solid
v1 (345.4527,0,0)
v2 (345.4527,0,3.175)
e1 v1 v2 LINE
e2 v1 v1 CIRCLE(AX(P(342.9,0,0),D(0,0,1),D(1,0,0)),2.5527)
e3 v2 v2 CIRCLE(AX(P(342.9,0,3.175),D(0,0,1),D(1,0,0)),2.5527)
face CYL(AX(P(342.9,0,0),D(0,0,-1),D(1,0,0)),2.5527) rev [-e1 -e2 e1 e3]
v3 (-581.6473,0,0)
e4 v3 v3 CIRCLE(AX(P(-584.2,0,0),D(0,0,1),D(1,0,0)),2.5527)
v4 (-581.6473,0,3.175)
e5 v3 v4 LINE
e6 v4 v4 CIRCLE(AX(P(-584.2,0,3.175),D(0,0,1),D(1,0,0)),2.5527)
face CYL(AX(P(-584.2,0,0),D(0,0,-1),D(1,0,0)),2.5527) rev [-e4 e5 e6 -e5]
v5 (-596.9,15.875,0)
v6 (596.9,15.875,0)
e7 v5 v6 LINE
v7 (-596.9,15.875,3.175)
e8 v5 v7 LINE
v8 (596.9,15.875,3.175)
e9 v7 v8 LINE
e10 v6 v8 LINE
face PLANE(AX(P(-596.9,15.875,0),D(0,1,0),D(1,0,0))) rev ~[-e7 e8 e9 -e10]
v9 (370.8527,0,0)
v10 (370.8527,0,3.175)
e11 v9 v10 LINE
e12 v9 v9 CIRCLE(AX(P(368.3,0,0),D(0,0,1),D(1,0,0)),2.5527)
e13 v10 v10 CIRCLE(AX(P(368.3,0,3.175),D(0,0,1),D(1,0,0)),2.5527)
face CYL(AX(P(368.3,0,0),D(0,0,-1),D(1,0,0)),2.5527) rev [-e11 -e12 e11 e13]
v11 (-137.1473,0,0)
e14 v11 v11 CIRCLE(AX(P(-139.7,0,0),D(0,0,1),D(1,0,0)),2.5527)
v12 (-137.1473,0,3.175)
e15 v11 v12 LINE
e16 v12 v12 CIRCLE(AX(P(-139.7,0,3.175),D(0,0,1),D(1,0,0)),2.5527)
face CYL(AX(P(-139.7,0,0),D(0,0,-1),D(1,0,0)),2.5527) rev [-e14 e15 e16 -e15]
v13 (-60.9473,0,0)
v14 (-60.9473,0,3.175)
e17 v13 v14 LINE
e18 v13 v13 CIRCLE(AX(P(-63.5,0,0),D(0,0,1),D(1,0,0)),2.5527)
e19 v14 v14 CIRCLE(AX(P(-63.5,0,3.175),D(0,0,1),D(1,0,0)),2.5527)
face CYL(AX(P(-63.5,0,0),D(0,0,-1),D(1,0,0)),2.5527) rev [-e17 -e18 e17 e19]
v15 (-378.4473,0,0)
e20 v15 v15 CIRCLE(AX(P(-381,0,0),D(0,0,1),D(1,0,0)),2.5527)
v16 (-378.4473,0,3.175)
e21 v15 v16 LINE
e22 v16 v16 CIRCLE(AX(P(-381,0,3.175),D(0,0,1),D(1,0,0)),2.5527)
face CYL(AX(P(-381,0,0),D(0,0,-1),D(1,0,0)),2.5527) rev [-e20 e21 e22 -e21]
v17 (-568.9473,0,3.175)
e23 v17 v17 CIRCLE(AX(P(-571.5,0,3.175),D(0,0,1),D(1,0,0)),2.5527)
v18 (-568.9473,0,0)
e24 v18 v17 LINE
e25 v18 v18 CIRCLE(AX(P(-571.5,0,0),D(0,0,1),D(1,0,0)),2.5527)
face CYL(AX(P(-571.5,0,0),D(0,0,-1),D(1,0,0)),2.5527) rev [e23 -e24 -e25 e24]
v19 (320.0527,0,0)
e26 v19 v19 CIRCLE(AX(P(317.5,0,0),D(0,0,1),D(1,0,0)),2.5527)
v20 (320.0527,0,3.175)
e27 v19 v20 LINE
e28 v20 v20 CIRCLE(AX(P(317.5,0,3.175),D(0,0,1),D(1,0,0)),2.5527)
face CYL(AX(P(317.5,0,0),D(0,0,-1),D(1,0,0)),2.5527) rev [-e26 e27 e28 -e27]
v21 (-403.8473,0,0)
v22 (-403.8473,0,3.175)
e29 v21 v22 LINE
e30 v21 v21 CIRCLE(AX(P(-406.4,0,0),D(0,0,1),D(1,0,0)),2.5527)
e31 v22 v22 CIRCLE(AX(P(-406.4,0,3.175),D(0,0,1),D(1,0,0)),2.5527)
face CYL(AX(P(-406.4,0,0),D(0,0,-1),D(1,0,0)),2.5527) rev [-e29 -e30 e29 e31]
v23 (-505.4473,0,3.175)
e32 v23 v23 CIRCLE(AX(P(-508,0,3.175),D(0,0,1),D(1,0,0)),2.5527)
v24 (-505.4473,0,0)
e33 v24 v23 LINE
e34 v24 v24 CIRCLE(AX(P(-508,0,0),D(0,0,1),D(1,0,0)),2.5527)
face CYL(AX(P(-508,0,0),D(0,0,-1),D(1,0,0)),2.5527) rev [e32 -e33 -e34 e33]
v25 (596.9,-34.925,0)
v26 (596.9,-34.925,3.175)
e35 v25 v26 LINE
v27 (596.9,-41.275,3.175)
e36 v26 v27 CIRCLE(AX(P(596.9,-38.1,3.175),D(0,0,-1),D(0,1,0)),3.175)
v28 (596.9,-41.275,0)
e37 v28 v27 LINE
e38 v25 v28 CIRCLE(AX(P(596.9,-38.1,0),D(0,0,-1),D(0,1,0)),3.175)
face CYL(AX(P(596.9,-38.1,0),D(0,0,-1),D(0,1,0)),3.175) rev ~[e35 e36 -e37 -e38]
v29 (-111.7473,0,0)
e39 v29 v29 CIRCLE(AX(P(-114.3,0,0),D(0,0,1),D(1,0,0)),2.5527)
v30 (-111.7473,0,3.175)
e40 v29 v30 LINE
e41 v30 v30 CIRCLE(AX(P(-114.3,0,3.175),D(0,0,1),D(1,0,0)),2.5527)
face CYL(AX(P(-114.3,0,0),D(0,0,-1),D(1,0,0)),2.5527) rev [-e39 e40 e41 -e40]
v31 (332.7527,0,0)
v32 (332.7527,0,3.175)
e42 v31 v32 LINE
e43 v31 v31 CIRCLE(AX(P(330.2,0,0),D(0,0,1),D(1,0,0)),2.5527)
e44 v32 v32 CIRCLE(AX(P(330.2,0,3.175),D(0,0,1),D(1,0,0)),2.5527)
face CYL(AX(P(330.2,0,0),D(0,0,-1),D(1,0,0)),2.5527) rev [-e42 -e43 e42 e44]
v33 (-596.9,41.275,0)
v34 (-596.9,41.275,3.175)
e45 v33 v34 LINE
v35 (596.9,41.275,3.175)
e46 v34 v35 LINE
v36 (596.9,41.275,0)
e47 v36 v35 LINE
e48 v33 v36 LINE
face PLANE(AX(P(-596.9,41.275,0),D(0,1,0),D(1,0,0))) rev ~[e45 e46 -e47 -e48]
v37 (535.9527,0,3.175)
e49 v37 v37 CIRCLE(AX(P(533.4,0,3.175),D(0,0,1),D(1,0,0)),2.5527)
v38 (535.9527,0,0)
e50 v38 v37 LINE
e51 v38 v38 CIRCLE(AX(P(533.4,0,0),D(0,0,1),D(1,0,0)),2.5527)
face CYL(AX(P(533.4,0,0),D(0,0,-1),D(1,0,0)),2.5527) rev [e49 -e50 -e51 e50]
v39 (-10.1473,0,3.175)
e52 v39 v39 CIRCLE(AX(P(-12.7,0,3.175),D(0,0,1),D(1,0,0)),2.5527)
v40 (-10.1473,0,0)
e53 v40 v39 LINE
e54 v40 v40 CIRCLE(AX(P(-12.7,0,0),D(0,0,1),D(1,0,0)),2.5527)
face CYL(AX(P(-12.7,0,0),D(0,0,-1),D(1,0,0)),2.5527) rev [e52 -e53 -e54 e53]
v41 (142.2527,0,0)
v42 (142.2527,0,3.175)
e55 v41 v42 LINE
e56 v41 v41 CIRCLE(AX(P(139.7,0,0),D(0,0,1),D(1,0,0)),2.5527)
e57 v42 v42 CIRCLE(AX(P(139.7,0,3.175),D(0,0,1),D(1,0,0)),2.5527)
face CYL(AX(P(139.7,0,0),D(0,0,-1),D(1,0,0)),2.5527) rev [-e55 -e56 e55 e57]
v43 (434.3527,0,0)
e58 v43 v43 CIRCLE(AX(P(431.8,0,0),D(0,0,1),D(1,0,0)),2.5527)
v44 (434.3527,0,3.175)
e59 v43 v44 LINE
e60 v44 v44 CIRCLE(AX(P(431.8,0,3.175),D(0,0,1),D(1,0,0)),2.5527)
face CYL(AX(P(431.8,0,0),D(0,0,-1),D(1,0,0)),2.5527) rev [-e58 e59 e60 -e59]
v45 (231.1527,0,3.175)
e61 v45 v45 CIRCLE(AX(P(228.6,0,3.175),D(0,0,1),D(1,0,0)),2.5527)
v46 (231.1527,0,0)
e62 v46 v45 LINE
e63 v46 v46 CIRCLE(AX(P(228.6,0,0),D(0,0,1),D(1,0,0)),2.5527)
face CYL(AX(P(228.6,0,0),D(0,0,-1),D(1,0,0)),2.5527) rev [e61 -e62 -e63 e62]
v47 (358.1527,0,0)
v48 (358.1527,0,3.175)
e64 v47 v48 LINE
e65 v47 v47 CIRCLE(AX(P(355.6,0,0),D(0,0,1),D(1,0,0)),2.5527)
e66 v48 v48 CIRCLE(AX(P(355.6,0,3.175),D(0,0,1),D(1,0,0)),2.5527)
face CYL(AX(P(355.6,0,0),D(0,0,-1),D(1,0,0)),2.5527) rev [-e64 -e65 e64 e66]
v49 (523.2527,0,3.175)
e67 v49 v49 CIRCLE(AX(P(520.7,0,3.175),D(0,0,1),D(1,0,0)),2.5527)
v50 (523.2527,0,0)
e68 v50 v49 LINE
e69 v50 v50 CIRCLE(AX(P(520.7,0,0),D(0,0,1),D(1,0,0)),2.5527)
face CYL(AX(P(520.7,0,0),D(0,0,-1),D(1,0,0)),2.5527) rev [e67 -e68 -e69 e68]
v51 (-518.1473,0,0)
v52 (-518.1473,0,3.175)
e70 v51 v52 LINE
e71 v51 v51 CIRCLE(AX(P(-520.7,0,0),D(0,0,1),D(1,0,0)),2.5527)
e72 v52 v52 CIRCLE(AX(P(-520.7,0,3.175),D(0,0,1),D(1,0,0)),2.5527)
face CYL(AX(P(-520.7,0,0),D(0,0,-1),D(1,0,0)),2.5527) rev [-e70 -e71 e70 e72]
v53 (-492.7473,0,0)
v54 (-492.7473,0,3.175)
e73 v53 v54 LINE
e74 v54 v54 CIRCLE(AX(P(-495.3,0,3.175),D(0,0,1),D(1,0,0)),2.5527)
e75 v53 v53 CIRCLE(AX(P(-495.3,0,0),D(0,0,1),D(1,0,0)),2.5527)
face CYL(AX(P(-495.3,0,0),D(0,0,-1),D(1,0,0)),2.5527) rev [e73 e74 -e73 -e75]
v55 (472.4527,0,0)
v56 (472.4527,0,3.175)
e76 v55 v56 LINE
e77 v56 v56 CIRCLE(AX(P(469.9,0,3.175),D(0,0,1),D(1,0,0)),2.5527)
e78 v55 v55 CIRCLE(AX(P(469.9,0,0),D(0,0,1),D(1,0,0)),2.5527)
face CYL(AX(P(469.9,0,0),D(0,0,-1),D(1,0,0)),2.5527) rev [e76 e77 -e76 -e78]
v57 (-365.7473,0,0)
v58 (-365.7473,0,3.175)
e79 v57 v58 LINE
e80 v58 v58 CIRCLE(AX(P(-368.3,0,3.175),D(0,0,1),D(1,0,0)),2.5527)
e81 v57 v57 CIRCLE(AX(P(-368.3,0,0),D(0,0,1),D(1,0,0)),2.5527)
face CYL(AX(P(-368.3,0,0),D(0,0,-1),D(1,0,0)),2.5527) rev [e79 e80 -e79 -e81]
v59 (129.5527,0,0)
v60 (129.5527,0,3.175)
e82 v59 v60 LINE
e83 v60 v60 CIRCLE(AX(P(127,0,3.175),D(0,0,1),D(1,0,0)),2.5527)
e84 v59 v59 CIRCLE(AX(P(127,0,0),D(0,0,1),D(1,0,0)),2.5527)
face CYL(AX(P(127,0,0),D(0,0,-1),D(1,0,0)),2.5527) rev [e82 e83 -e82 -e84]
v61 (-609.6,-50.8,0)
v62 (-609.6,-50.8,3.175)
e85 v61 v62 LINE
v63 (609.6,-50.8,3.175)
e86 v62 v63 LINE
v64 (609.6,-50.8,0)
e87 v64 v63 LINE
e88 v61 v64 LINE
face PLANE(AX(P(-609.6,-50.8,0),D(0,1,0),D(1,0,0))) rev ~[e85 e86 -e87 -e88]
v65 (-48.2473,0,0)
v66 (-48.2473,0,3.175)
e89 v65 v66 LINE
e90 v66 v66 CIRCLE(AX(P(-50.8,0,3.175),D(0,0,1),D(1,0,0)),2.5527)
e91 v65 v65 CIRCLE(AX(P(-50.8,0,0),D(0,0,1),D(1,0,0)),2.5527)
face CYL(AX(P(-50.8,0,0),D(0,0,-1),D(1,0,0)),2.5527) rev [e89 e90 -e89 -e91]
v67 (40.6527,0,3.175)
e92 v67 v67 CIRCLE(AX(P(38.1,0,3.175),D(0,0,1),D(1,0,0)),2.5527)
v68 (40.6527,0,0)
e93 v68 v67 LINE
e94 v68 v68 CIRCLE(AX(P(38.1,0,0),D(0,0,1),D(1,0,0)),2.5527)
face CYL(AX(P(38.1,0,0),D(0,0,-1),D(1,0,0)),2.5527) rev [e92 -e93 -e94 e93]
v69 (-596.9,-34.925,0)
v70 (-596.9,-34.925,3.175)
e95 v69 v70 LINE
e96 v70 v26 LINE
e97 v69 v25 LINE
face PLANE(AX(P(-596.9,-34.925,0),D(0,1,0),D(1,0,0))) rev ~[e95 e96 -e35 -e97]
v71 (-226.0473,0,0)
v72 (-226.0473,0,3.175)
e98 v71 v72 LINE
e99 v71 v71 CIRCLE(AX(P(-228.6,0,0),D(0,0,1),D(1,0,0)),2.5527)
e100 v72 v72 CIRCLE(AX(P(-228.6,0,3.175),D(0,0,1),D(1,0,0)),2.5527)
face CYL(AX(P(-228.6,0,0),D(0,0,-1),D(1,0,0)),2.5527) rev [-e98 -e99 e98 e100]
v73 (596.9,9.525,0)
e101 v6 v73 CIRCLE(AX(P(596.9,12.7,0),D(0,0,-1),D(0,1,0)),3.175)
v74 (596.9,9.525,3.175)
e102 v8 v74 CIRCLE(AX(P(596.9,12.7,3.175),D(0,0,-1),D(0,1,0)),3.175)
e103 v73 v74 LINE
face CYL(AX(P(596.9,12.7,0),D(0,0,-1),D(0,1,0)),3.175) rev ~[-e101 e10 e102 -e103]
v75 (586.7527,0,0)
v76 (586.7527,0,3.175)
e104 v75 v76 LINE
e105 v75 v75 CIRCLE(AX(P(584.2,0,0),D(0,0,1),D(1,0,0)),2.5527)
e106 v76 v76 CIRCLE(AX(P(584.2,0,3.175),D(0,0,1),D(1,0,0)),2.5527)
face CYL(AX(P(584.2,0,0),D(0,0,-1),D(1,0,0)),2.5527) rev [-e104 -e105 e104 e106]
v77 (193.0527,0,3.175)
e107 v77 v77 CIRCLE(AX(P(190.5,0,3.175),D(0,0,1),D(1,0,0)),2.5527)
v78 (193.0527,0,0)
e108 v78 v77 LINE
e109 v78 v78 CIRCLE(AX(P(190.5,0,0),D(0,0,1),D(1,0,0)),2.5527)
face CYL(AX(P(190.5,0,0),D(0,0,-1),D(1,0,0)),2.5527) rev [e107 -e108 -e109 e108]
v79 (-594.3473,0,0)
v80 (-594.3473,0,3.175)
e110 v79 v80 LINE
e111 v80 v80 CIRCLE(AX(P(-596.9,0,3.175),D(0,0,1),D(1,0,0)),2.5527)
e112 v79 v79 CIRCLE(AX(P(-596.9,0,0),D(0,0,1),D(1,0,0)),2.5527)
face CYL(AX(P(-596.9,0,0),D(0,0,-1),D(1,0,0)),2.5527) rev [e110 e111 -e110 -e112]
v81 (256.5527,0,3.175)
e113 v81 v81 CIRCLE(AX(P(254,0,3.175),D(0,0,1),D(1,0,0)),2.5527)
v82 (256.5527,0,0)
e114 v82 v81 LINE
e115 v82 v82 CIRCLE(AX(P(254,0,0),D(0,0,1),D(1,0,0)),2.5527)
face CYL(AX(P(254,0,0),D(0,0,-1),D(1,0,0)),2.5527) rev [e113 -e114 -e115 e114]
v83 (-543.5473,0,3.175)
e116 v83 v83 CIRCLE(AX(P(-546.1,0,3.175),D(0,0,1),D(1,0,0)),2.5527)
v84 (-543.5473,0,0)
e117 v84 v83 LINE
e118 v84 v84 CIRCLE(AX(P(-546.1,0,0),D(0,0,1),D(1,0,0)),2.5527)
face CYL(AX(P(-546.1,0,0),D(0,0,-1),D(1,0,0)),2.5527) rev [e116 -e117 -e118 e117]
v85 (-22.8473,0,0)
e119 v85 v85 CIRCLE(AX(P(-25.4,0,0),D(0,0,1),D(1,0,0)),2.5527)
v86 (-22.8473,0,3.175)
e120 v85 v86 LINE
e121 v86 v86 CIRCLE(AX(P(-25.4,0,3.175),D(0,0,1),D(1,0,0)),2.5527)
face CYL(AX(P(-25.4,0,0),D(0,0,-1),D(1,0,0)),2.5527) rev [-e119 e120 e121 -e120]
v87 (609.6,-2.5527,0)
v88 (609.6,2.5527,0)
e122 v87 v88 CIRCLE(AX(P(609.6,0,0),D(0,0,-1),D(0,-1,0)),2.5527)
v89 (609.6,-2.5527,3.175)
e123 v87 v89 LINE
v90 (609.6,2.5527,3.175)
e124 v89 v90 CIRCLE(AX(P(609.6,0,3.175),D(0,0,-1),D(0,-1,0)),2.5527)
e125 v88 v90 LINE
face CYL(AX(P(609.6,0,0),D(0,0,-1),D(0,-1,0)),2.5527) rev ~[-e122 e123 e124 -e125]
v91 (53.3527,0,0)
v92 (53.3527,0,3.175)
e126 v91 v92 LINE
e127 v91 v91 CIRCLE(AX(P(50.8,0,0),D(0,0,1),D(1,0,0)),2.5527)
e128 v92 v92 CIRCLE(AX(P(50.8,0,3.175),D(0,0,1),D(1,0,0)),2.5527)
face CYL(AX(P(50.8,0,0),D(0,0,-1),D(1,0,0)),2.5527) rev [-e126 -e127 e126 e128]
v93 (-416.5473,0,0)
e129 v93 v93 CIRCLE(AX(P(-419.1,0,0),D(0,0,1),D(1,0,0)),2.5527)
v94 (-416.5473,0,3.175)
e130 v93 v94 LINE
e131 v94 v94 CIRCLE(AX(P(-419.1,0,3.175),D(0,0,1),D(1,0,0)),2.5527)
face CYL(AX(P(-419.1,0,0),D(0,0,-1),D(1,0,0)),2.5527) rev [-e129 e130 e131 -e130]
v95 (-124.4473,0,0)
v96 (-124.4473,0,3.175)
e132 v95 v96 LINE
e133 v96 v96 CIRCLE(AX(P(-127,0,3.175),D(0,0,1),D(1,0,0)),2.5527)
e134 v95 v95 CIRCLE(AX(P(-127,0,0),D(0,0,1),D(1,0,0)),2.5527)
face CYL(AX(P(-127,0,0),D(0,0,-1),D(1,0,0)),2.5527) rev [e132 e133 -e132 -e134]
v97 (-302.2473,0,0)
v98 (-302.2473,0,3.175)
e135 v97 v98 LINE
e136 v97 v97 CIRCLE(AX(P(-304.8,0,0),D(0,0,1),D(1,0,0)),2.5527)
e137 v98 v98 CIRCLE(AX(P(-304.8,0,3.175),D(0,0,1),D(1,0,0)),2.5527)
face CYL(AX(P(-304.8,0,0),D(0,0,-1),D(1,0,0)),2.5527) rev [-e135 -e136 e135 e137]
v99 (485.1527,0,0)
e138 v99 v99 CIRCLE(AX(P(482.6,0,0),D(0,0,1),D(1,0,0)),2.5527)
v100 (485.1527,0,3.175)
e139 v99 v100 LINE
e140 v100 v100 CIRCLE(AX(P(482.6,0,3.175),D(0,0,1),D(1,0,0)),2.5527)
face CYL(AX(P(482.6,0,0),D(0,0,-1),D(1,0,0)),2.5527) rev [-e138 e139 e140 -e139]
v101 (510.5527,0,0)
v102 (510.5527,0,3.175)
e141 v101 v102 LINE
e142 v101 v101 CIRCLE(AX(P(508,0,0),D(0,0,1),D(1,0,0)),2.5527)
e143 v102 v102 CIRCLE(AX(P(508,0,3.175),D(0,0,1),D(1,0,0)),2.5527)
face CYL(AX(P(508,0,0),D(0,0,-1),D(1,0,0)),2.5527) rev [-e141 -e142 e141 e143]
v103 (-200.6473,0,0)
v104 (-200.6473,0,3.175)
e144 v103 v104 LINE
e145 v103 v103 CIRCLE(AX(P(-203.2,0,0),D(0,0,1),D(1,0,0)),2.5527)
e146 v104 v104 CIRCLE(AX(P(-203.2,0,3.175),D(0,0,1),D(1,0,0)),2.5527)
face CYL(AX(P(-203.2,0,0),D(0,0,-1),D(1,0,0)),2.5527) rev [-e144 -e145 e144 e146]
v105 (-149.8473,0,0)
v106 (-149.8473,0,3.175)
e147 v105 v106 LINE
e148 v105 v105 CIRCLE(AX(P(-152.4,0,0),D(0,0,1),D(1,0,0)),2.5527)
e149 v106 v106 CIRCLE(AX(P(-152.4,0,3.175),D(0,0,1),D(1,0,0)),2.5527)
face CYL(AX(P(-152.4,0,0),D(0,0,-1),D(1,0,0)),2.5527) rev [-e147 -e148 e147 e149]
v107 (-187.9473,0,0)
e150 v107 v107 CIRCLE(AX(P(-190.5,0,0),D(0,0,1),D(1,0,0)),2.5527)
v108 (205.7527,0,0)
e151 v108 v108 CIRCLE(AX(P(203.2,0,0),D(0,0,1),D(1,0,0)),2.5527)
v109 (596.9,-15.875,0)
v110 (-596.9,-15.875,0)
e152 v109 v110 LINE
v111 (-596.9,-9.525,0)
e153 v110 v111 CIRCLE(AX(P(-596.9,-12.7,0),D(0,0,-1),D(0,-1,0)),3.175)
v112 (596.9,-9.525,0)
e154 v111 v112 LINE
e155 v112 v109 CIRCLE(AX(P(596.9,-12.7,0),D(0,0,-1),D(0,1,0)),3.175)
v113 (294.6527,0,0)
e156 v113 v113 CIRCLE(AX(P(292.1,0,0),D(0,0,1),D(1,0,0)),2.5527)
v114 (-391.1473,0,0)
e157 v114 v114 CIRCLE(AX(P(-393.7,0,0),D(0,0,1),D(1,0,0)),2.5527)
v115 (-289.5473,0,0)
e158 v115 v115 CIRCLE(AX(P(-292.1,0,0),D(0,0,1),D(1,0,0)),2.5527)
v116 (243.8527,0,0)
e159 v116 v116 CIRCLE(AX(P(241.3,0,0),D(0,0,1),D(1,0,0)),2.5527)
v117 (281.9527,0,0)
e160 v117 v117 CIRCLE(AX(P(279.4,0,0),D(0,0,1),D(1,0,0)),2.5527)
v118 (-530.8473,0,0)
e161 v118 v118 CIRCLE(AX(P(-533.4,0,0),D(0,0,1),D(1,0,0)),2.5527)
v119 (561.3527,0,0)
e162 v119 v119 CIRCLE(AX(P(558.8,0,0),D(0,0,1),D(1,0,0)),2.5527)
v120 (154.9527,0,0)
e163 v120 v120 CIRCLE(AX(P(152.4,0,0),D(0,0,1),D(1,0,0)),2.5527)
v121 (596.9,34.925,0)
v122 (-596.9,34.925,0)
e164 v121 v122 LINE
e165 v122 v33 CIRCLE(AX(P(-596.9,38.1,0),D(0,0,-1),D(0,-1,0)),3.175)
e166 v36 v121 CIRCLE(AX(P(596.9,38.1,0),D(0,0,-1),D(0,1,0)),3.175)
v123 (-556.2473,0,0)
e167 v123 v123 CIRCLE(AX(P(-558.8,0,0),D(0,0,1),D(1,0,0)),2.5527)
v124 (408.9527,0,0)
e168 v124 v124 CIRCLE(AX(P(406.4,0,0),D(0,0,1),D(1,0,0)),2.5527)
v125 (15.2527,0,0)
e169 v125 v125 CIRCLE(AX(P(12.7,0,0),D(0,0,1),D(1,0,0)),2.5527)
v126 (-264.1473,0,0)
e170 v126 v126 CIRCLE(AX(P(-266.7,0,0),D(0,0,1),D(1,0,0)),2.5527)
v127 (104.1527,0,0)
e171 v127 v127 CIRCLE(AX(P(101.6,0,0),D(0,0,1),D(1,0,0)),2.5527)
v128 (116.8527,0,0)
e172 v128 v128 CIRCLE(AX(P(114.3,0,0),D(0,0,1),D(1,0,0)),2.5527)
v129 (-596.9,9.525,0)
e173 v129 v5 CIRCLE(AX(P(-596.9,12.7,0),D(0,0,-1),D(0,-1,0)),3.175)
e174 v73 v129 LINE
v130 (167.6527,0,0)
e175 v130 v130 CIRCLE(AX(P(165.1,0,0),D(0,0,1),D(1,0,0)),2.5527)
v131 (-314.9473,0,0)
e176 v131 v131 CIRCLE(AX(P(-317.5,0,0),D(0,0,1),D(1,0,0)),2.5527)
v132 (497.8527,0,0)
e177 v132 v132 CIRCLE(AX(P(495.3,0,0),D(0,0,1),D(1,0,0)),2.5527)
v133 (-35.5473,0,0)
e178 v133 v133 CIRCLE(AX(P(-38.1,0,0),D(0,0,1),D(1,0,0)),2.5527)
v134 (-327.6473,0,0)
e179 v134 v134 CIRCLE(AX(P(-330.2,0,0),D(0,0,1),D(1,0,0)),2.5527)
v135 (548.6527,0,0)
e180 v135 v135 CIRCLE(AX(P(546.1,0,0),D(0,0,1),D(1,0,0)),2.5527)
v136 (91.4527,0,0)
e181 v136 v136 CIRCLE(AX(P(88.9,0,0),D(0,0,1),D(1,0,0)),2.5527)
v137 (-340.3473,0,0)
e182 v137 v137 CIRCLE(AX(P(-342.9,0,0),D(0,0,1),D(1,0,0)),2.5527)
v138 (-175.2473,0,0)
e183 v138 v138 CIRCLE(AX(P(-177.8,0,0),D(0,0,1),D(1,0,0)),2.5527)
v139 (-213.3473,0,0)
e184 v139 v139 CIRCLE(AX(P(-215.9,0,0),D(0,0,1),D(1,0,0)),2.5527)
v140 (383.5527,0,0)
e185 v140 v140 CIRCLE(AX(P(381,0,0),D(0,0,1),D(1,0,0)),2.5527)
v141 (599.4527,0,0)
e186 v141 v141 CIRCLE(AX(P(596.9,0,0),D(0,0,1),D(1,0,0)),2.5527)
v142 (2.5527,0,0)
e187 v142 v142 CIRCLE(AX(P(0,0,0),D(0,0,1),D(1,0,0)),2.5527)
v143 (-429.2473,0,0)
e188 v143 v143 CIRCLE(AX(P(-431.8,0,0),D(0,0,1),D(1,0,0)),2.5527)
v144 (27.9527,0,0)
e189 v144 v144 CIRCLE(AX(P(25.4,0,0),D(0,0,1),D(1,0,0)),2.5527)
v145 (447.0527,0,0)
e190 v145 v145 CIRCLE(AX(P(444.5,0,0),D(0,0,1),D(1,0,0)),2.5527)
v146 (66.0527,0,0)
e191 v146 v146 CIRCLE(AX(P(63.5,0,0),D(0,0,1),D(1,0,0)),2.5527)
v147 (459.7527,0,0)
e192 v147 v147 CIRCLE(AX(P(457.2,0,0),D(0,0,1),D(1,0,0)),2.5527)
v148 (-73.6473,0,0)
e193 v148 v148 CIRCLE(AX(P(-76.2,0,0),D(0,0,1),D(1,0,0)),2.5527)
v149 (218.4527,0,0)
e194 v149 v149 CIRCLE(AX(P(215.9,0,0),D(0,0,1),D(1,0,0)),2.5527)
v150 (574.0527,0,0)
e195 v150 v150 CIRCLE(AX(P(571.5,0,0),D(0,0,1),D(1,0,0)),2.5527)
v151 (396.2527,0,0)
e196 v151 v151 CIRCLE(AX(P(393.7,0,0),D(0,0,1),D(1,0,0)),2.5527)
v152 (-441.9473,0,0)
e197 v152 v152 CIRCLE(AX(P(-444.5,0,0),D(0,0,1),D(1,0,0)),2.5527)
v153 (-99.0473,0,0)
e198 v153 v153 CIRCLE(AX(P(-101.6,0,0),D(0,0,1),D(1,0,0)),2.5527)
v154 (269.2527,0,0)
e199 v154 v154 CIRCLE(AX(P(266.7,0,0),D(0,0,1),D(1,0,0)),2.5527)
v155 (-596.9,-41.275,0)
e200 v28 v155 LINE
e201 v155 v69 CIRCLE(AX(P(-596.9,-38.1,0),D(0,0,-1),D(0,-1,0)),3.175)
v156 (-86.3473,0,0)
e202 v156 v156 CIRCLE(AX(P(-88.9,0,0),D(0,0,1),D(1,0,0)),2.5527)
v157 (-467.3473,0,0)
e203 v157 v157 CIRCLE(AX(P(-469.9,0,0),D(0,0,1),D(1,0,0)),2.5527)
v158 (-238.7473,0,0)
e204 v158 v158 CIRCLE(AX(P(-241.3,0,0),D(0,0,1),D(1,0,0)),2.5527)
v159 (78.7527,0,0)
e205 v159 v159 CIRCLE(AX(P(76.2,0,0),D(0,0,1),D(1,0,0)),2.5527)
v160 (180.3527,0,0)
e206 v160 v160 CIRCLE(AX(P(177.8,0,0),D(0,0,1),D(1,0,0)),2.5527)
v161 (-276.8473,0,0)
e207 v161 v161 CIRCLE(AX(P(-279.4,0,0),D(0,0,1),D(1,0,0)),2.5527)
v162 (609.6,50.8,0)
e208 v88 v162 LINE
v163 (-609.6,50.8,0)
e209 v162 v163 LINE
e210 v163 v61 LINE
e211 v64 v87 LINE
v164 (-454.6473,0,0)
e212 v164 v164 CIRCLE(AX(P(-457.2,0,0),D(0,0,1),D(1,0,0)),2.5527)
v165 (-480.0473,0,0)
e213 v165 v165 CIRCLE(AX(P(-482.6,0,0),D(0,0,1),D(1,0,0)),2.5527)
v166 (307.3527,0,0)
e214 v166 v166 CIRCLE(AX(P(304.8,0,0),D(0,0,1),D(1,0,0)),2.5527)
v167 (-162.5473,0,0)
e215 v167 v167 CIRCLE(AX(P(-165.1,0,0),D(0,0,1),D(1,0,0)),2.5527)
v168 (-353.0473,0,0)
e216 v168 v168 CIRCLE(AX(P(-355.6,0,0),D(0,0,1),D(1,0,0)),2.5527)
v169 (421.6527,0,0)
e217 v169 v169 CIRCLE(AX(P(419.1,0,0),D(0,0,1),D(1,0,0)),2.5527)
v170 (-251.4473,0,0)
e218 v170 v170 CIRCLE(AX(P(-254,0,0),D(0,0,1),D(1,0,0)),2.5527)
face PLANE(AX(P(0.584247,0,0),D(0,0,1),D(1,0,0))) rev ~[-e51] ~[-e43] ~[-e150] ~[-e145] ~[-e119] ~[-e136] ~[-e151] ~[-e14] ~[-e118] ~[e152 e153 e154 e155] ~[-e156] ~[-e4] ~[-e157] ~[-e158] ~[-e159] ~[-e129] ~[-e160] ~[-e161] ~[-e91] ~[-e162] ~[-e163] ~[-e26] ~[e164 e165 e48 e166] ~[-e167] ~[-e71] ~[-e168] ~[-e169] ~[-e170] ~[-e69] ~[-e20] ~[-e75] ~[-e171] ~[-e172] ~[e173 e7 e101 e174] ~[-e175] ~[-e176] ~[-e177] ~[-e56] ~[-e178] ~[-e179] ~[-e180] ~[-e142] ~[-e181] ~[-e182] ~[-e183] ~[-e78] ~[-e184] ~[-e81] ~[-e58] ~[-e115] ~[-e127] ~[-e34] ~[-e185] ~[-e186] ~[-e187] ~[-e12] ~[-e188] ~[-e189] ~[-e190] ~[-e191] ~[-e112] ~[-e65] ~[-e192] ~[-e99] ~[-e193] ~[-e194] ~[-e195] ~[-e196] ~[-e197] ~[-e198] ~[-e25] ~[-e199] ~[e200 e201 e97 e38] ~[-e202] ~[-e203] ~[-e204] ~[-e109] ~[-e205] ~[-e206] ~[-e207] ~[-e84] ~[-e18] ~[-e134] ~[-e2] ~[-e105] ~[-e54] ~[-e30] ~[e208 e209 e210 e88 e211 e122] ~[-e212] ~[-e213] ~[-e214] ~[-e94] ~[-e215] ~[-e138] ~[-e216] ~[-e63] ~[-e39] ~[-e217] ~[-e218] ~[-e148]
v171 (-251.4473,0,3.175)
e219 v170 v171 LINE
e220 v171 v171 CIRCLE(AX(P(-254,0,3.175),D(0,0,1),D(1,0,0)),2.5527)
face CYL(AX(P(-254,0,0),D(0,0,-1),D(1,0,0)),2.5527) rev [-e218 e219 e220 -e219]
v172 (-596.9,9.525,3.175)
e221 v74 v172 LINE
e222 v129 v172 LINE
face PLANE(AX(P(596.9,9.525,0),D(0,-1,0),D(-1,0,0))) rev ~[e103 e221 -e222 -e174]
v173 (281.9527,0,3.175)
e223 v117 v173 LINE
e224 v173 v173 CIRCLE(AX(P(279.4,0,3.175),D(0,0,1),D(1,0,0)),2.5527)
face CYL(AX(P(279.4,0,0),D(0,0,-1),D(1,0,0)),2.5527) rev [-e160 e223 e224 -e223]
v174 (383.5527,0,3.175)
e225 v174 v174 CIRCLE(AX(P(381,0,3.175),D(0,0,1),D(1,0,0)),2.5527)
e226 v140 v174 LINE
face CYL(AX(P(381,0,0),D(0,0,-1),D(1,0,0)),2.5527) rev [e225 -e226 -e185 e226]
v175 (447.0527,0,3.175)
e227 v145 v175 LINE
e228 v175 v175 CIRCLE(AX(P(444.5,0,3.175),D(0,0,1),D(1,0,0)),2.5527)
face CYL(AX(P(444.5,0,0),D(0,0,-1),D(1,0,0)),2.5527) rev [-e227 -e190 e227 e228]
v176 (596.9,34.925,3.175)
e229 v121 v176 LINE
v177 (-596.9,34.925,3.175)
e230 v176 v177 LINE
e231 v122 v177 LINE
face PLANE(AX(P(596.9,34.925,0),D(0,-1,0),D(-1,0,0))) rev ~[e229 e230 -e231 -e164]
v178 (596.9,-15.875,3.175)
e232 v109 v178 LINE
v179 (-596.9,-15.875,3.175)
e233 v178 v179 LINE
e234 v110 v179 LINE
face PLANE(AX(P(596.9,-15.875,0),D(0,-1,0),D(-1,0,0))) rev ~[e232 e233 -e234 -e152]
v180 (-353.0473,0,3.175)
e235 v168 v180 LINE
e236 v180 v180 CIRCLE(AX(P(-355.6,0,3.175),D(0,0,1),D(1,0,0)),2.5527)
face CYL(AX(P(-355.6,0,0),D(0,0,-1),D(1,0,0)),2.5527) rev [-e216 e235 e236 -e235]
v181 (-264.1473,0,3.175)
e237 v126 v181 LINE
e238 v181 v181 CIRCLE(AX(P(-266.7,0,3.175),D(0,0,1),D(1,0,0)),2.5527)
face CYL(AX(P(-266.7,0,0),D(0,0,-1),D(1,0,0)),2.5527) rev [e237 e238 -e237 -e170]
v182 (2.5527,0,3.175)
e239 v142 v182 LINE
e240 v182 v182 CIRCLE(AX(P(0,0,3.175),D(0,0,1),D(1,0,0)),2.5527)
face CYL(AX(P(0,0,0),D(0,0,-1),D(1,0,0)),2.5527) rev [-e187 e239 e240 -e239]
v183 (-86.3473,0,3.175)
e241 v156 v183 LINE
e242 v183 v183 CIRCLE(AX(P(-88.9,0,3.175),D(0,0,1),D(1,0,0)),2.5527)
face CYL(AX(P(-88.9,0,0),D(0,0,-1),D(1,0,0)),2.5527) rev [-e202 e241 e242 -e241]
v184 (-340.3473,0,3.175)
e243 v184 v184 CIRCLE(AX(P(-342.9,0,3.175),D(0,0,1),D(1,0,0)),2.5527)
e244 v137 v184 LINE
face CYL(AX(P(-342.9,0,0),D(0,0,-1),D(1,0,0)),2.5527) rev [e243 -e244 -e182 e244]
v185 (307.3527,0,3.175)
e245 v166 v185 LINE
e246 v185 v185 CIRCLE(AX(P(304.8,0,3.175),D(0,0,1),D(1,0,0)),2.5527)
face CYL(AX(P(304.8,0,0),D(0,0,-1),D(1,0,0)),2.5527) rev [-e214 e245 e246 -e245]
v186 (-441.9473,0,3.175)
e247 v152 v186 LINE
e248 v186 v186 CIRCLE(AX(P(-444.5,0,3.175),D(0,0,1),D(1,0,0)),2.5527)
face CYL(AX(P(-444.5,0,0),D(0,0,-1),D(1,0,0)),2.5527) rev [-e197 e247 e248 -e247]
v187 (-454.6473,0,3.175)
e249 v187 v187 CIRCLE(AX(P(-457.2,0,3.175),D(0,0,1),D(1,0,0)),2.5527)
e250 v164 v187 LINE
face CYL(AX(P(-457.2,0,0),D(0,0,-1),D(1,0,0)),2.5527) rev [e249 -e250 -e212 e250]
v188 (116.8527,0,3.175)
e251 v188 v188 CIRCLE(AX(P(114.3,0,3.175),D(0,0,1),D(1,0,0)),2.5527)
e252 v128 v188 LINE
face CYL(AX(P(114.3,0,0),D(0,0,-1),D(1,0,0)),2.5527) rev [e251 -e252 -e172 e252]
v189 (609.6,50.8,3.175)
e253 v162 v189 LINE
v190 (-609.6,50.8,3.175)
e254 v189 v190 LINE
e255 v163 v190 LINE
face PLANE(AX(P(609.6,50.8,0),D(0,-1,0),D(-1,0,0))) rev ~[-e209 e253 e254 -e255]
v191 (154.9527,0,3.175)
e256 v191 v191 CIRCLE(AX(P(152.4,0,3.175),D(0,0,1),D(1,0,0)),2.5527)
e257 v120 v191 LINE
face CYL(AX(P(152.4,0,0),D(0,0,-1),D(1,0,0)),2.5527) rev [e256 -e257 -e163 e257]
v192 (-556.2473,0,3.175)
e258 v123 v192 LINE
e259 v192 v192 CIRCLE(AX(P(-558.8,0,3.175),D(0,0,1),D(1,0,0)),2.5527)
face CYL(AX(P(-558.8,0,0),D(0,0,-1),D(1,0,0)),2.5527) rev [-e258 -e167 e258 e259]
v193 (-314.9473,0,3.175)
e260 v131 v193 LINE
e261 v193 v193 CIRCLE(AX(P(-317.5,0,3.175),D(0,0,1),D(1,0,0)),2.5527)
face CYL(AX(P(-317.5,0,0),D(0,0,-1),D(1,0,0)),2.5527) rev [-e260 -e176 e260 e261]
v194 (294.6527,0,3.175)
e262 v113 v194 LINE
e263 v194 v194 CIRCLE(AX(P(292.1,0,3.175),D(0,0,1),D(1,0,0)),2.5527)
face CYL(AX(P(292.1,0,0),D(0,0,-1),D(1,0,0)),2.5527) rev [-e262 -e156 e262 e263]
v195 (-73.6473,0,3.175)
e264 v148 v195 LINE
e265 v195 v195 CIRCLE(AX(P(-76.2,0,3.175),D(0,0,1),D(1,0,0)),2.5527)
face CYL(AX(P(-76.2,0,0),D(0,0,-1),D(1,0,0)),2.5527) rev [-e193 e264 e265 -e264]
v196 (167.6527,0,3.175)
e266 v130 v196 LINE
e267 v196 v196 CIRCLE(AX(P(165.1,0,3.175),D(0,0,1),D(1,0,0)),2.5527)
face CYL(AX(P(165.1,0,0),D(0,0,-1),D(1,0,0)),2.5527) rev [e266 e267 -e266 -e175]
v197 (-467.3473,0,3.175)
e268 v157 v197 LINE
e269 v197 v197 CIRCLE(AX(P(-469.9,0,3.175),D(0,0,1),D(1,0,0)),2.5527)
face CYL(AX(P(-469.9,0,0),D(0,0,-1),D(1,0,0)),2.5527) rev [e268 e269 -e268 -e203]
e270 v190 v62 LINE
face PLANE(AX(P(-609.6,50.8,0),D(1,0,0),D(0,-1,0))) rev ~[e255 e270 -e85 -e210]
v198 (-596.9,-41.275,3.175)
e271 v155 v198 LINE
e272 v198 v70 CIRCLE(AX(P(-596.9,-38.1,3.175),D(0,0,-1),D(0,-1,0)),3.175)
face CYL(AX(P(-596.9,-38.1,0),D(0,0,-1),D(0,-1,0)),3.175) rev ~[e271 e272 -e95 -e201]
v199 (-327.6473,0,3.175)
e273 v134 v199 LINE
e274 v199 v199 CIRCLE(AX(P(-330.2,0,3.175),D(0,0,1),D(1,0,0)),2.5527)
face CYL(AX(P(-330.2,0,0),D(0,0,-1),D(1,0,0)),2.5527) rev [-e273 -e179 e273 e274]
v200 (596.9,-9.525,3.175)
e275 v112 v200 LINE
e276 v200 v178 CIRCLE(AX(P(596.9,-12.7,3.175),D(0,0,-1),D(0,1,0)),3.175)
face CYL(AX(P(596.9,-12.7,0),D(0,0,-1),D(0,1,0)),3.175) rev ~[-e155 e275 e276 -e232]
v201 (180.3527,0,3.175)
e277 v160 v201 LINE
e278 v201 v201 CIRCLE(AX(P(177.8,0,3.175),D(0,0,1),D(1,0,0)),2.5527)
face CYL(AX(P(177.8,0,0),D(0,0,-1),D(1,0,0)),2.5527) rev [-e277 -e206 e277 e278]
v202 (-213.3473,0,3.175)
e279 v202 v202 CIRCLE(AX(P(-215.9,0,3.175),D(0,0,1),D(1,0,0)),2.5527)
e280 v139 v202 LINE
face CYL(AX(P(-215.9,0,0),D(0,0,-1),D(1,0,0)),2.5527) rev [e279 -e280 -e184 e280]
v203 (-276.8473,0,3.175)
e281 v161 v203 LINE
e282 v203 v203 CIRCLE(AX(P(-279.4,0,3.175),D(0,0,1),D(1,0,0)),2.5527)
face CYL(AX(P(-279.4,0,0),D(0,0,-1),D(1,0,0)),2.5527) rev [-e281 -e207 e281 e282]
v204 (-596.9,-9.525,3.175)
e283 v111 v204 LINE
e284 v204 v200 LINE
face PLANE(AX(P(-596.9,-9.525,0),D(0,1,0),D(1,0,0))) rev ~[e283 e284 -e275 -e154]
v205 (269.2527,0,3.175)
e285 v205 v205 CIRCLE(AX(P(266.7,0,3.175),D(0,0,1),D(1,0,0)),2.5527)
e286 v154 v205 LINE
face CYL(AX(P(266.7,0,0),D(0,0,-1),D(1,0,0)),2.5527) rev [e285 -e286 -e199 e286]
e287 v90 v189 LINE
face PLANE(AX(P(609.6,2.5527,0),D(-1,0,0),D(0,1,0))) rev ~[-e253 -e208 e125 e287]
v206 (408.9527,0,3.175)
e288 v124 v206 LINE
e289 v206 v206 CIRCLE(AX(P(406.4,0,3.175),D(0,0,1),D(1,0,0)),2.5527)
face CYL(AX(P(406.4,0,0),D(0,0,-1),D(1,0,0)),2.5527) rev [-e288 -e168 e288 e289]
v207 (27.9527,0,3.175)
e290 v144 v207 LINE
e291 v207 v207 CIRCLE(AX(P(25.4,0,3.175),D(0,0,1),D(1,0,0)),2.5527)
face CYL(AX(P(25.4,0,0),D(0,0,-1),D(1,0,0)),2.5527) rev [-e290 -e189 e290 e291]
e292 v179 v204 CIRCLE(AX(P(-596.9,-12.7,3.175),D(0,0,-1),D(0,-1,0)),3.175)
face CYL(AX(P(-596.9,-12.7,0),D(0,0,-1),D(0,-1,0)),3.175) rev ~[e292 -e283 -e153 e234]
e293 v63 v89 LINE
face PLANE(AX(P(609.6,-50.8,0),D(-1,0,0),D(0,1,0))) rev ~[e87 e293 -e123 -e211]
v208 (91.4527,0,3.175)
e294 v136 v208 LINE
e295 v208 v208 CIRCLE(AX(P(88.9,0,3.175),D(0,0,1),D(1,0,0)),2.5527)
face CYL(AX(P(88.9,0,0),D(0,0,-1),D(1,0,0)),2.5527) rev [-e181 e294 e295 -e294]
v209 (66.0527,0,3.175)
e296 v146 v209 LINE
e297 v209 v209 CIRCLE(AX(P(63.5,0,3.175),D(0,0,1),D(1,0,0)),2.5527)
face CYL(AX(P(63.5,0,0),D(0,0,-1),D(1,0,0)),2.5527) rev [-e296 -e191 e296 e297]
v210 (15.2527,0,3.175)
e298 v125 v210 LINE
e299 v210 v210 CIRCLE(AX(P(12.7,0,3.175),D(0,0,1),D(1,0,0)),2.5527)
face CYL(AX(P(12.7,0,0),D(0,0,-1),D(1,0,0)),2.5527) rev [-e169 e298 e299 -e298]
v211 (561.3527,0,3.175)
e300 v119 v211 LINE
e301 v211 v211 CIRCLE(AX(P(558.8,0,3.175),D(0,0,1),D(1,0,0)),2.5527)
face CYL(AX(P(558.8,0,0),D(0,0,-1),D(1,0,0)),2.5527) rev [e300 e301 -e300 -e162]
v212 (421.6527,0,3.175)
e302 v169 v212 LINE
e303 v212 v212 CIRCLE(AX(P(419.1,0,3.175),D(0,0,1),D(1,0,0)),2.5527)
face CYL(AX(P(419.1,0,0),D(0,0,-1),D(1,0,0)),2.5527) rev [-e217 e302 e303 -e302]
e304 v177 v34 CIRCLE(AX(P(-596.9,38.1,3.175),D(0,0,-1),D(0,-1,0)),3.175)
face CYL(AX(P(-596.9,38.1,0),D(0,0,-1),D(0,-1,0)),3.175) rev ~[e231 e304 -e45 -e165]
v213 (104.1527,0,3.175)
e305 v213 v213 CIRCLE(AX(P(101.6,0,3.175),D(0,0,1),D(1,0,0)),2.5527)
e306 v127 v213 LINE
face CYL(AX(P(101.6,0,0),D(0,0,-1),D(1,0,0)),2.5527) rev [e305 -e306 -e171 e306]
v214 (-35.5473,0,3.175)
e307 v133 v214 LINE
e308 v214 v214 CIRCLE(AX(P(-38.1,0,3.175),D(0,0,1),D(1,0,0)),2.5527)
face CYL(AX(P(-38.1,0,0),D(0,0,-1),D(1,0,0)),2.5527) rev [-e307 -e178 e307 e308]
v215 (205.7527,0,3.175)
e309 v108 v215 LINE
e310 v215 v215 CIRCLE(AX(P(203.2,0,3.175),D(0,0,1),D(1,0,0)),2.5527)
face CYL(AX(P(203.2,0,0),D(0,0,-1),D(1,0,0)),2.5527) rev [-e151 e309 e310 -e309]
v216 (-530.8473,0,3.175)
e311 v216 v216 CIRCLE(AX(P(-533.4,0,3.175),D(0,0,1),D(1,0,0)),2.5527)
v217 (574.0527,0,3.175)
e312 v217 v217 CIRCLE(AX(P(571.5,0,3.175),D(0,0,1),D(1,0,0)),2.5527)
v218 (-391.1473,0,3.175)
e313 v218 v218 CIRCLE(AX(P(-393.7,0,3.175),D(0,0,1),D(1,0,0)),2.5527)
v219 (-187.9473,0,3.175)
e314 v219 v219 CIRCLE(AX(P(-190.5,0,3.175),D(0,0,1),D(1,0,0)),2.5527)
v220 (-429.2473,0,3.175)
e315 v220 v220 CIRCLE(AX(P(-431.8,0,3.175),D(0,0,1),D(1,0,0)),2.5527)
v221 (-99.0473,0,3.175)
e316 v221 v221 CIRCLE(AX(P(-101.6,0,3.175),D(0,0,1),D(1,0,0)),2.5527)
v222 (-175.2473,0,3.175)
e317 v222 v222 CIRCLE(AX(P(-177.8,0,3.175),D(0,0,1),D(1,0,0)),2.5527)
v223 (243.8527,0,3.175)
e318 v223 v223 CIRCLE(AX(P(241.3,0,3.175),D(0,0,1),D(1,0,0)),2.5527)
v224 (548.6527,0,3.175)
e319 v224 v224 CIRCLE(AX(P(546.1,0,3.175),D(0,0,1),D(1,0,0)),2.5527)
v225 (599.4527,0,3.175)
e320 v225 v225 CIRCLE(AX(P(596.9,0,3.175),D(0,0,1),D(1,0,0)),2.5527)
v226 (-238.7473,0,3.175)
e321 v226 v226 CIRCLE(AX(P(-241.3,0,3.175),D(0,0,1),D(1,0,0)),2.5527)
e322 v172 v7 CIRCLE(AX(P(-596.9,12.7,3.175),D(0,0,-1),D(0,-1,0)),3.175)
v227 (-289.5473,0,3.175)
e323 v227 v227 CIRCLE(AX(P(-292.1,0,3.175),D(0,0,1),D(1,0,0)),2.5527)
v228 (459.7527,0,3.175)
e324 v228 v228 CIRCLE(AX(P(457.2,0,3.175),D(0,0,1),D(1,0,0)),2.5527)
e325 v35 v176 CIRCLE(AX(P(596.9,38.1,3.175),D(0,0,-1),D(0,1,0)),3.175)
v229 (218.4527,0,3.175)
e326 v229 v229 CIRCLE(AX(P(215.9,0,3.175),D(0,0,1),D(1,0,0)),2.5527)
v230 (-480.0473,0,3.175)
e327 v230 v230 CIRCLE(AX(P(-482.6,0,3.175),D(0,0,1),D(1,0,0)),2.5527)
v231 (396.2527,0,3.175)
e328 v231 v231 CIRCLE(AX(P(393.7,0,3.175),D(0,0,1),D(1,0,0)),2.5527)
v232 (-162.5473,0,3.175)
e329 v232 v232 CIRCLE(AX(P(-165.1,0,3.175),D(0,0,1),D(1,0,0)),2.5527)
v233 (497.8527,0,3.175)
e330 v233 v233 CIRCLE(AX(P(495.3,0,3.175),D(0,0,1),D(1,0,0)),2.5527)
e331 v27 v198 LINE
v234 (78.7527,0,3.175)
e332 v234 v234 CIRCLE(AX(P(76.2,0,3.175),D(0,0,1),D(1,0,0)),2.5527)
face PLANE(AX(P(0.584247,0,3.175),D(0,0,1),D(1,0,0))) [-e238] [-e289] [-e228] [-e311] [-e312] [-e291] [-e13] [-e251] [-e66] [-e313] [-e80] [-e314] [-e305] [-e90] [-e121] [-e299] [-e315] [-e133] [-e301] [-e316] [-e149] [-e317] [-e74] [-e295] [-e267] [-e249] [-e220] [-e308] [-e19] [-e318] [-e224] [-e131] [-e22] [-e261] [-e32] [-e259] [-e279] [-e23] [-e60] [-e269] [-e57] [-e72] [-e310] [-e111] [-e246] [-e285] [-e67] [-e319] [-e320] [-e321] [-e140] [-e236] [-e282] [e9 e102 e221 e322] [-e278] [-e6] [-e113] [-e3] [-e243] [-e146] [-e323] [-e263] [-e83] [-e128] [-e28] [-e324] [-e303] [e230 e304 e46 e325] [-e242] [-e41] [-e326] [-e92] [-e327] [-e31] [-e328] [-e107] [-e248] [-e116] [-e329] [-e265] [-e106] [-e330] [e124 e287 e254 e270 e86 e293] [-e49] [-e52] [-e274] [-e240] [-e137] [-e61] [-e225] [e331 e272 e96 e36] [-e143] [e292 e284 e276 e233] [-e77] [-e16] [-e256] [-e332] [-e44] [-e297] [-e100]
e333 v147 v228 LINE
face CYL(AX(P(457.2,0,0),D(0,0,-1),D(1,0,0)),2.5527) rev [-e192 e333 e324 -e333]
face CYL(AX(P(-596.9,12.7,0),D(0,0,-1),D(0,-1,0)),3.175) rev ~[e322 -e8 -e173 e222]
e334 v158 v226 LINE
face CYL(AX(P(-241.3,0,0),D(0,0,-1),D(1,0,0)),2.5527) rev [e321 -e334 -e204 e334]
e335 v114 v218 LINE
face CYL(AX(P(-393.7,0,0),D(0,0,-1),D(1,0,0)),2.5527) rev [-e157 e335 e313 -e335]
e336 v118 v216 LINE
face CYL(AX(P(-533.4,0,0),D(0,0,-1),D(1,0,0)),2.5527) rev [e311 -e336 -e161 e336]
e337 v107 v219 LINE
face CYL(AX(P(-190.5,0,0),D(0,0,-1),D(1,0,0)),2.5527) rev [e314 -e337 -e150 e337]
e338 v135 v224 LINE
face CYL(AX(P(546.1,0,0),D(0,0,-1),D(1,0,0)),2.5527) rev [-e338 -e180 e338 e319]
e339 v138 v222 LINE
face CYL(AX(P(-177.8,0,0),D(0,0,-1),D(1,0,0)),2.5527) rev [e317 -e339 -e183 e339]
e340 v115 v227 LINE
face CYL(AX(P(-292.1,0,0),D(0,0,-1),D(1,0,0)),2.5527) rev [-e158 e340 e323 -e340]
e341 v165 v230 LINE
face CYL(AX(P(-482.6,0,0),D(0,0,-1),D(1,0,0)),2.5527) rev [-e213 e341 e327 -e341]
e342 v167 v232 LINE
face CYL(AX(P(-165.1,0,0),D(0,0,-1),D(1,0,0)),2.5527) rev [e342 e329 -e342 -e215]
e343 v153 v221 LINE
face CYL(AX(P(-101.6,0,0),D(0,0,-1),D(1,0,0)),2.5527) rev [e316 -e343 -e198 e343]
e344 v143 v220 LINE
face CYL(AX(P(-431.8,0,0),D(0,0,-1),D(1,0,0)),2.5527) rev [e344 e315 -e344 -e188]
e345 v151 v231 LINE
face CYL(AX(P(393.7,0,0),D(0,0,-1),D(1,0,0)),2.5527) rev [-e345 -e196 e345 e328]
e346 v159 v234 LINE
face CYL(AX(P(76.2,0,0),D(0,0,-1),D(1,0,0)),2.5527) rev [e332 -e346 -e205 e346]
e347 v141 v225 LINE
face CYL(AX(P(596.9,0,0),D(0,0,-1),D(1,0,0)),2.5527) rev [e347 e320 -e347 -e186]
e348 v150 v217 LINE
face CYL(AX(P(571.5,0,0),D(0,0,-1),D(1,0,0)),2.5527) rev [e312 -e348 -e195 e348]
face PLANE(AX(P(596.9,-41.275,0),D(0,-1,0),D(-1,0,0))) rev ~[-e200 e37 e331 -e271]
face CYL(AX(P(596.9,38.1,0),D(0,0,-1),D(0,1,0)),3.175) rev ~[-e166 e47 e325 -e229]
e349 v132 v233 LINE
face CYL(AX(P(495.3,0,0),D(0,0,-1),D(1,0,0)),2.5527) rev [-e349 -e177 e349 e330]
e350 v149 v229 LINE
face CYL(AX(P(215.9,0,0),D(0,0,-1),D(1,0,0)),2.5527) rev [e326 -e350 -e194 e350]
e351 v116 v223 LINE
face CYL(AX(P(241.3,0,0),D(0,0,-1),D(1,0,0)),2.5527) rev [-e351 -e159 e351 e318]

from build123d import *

# Parameters (mm, degrees)
F0_R     = 2.5527
F1_DEPTH = 3.175


with BuildPart() as f1:
    # F0 (on Top) → F1 (new body)
    with BuildSketch(Plane.XY):
        with BuildLine():
            Line((-609.6, 50.8), (-609.6, -50.8))
            Line((-609.6, -50.8), (609.6, -50.8))
            Line((609.6, -50.8), (609.6, -2.5527))
            ThreePointArc((609.6, -2.5527), (607.0473, 0), (609.6, 2.5527))
            Line((609.6, 2.5527), (609.6, 50.8))
            Line((609.6, 50.8), (-609.6, 50.8))
        make_face()
        with BuildLine():
            ThreePointArc((-596.9, -41.275), (-600.075, -38.1), (-596.9, -34.925))
            Line((-596.9, -34.925), (596.9, -34.925))
            ThreePointArc((596.9, -34.925), (600.075, -38.1), (596.9, -41.275))
            Line((596.9, -41.275), (-596.9, -41.275))
        make_face(mode=Mode.SUBTRACT)
        with Locations((-596.9, 0)):
            Circle(F0_R, mode=Mode.SUBTRACT)
        with Locations((-584.2, 0)):
            Circle(F0_R, mode=Mode.SUBTRACT)
        with Locations((-571.5, 0)):
            Circle(F0_R, mode=Mode.SUBTRACT)
        with Locations((-558.8, 0)):
            Circle(F0_R, mode=Mode.SUBTRACT)
        with Locations((-546.1, 0)):
            Circle(F0_R, mode=Mode.SUBTRACT)
        with Locations((-533.4, 0)):
            Circle(F0_R, mode=Mode.SUBTRACT)
        with Locations((-520.7, 0)):
            Circle(F0_R, mode=Mode.SUBTRACT)
        with Locations((-508, 0)):
            Circle(F0_R, mode=Mode.SUBTRACT)
        with Locations((-495.3, 0)):
            Circle(F0_R, mode=Mode.SUBTRACT)
        with Locations((-482.6, 0)):
            Circle(F0_R, mode=Mode.SUBTRACT)
        with Locations((-469.9, 0)):
            Circle(F0_R, mode=Mode.SUBTRACT)
        with Locations((-457.2, 0)):
            Circle(F0_R, mode=Mode.SUBTRACT)
        with Locations((-444.5, 0)):
            Circle(F0_R, mode=Mode.SUBTRACT)
        with Locations((-431.8, 0)):
            Circle(F0_R, mode=Mode.SUBTRACT)
        with Locations((-419.1, 0)):
            Circle(F0_R, mode=Mode.SUBTRACT)
        with Locations((-406.4, 0)):
            Circle(F0_R, mode=Mode.SUBTRACT)
        with Locations((-393.7, 0)):
            Circle(F0_R, mode=Mode.SUBTRACT)
        with Locations((-381, 0)):
            Circle(F0_R, mode=Mode.SUBTRACT)
        with Locations((-368.3, 0)):
            Circle(F0_R, mode=Mode.SUBTRACT)
        with Locations((-355.6, 0)):
            Circle(F0_R, mode=Mode.SUBTRACT)
        with Locations((-342.9, 0)):
            Circle(F0_R, mode=Mode.SUBTRACT)
        with Locations((-330.2, 0)):
            Circle(F0_R, mode=Mode.SUBTRACT)
        with Locations((-317.5, 0)):
            Circle(F0_R, mode=Mode.SUBTRACT)
        with Locations((-304.8, 0)):
            Circle(F0_R, mode=Mode.SUBTRACT)
        with Locations((-292.1, 0)):
            Circle(F0_R, mode=Mode.SUBTRACT)
        with BuildLine():
            ThreePointArc((-596.9, -15.875), (-600.075, -12.7), (-596.9, -9.525))
            Line((-596.9, -9.525), (596.9, -9.525))
            ThreePointArc((596.9, -9.525), (600.075, -12.7), (596.9, -15.875))
            Line((596.9, -15.875), (-596.9, -15.875))
        make_face(mode=Mode.SUBTRACT)
        with Locations((-279.4, 0)):
            Circle(F0_R, mode=Mode.SUBTRACT)
        with Locations((-266.7, 0)):
            Circle(F0_R, mode=Mode.SUBTRACT)
        with Locations((-254, 0)):
            Circle(F0_R, mode=Mode.SUBTRACT)
        with Locations((-241.3, 0)):
            Circle(F0_R, mode=Mode.SUBTRACT)
        with Locations((-228.6, 0)):
            Circle(F0_R, mode=Mode.SUBTRACT)
        with Locations((-215.9, 0)):
            Circle(F0_R, mode=Mode.SUBTRACT)
        with Locations((-203.2, 0)):
            Circle(F0_R, mode=Mode.SUBTRACT)
        with Locations((-190.5, 0)):
            Circle(F0_R, mode=Mode.SUBTRACT)
        with Locations((-177.8, 0)):
            Circle(F0_R, mode=Mode.SUBTRACT)
        with Locations((-165.1, 0)):
            Circle(F0_R, mode=Mode.SUBTRACT)
        with Locations((-152.4, 0)):
            Circle(F0_R, mode=Mode.SUBTRACT)
        with Locations((-139.7, 0)):
            Circle(F0_R, mode=Mode.SUBTRACT)
        with Locations((-127, 0)):
            Circle(F0_R, mode=Mode.SUBTRACT)
        with Locations((-114.3, 0)):
            Circle(F0_R, mode=Mode.SUBTRACT)
        with Locations((-101.6, 0)):
            Circle(F0_R, mode=Mode.SUBTRACT)
        with Locations((-88.9, 0)):
            Circle(F0_R, mode=Mode.SUBTRACT)
        with Locations((-76.2, 0)):
            Circle(F0_R, mode=Mode.SUBTRACT)
        with Locations((-63.5, 0)):
            Circle(F0_R, mode=Mode.SUBTRACT)
        with Locations((-50.8, 0)):
            Circle(F0_R, mode=Mode.SUBTRACT)
        with Locations((-38.1, 0)):
            Circle(F0_R, mode=Mode.SUBTRACT)
        with Locations((-25.4, 0)):
            Circle(F0_R, mode=Mode.SUBTRACT)
        with Locations((-12.7, 0)):
            Circle(F0_R, mode=Mode.SUBTRACT)
        Circle(F0_R, mode=Mode.SUBTRACT)
        with Locations((12.7, 0)):
            Circle(F0_R, mode=Mode.SUBTRACT)
        with Locations((25.4, 0)):
            Circle(F0_R, mode=Mode.SUBTRACT)
        with Locations((38.1, 0)):
            Circle(F0_R, mode=Mode.SUBTRACT)
        with Locations((50.8, 0)):
            Circle(F0_R, mode=Mode.SUBTRACT)
        with Locations((63.5, 0)):
            Circle(F0_R, mode=Mode.SUBTRACT)
        with Locations((76.2, 0)):
            Circle(F0_R, mode=Mode.SUBTRACT)
        with Locations((88.9, 0)):
            Circle(F0_R, mode=Mode.SUBTRACT)
        with Locations((101.6, 0)):
            Circle(F0_R, mode=Mode.SUBTRACT)
        with Locations((114.3, 0)):
            Circle(F0_R, mode=Mode.SUBTRACT)
        with Locations((127, 0)):
            Circle(F0_R, mode=Mode.SUBTRACT)
        with Locations((139.7, 0)):
            Circle(F0_R, mode=Mode.SUBTRACT)
        with Locations((152.4, 0)):
            Circle(F0_R, mode=Mode.SUBTRACT)
        with Locations((165.1, 0)):
            Circle(F0_R, mode=Mode.SUBTRACT)
        with Locations((177.8, 0)):
            Circle(F0_R, mode=Mode.SUBTRACT)
        with Locations((190.5, 0)):
            Circle(F0_R, mode=Mode.SUBTRACT)
        with Locations((203.2, 0)):
            Circle(F0_R, mode=Mode.SUBTRACT)
        with Locations((215.9, 0)):
            Circle(F0_R, mode=Mode.SUBTRACT)
        with Locations((228.6, 0)):
            Circle(F0_R, mode=Mode.SUBTRACT)
        with Locations((241.3, 0)):
            Circle(F0_R, mode=Mode.SUBTRACT)
        with Locations((254, 0)):
            Circle(F0_R, mode=Mode.SUBTRACT)
        with Locations((266.7, 0)):
            Circle(F0_R, mode=Mode.SUBTRACT)
        with Locations((279.4, 0)):
            Circle(F0_R, mode=Mode.SUBTRACT)
        with Locations((292.1, 0)):
            Circle(F0_R, mode=Mode.SUBTRACT)
        with Locations((304.8, 0)):
            Circle(F0_R, mode=Mode.SUBTRACT)
        with Locations((317.5, 0)):
            Circle(F0_R, mode=Mode.SUBTRACT)
        with Locations((330.2, 0)):
            Circle(F0_R, mode=Mode.SUBTRACT)
        with Locations((342.9, 0)):
            Circle(F0_R, mode=Mode.SUBTRACT)
        with Locations((355.6, 0)):
            Circle(F0_R, mode=Mode.SUBTRACT)
        with Locations((368.3, 0)):
            Circle(F0_R, mode=Mode.SUBTRACT)
        with Locations((381, 0)):
            Circle(F0_R, mode=Mode.SUBTRACT)
        with Locations((393.7, 0)):
            Circle(F0_R, mode=Mode.SUBTRACT)
        with Locations((406.4, 0)):
            Circle(F0_R, mode=Mode.SUBTRACT)
        with Locations((419.1, 0)):
            Circle(F0_R, mode=Mode.SUBTRACT)
        with Locations((431.8, 0)):
            Circle(F0_R, mode=Mode.SUBTRACT)
        with Locations((444.5, 0)):
            Circle(F0_R, mode=Mode.SUBTRACT)
        with Locations((457.2, 0)):
            Circle(F0_R, mode=Mode.SUBTRACT)
        with Locations((469.9, 0)):
            Circle(F0_R, mode=Mode.SUBTRACT)
        with Locations((482.6, 0)):
            Circle(F0_R, mode=Mode.SUBTRACT)
        with Locations((495.3, 0)):
            Circle(F0_R, mode=Mode.SUBTRACT)
        with Locations((508, 0)):
            Circle(F0_R, mode=Mode.SUBTRACT)
        with Locations((520.7, 0)):
            Circle(F0_R, mode=Mode.SUBTRACT)
        with Locations((533.4, 0)):
            Circle(F0_R, mode=Mode.SUBTRACT)
        with Locations((546.1, 0)):
            Circle(F0_R, mode=Mode.SUBTRACT)
        with Locations((558.8, 0)):
            Circle(F0_R, mode=Mode.SUBTRACT)
        with Locations((571.5, 0)):
            Circle(F0_R, mode=Mode.SUBTRACT)
        with Locations((584.2, 0)):
            Circle(F0_R, mode=Mode.SUBTRACT)
        with Locations((596.9, 0)):
            Circle(F0_R, mode=Mode.SUBTRACT)
        with BuildLine():
            ThreePointArc((-596.9, 9.525), (-600.075, 12.7), (-596.9, 15.875))
            Line((-596.9, 15.875), (596.9, 15.875))
            ThreePointArc((596.9, 15.875), (600.075, 12.7), (596.9, 9.525))
            Line((596.9, 9.525), (-596.9, 9.525))
        make_face(mode=Mode.SUBTRACT)
        with BuildLine():
            ThreePointArc((596.9, 41.275), (600.075, 38.1), (596.9, 34.925))
            Line((596.9, 34.925), (-596.9, 34.925))
            ThreePointArc((-596.9, 34.925), (-600.075, 38.1), (-596.9, 41.275))
            Line((-596.9, 41.275), (596.9, 41.275))
        make_face(mode=Mode.SUBTRACT)
    extrude(amount=F1_DEPTH)


solid = f1.part
